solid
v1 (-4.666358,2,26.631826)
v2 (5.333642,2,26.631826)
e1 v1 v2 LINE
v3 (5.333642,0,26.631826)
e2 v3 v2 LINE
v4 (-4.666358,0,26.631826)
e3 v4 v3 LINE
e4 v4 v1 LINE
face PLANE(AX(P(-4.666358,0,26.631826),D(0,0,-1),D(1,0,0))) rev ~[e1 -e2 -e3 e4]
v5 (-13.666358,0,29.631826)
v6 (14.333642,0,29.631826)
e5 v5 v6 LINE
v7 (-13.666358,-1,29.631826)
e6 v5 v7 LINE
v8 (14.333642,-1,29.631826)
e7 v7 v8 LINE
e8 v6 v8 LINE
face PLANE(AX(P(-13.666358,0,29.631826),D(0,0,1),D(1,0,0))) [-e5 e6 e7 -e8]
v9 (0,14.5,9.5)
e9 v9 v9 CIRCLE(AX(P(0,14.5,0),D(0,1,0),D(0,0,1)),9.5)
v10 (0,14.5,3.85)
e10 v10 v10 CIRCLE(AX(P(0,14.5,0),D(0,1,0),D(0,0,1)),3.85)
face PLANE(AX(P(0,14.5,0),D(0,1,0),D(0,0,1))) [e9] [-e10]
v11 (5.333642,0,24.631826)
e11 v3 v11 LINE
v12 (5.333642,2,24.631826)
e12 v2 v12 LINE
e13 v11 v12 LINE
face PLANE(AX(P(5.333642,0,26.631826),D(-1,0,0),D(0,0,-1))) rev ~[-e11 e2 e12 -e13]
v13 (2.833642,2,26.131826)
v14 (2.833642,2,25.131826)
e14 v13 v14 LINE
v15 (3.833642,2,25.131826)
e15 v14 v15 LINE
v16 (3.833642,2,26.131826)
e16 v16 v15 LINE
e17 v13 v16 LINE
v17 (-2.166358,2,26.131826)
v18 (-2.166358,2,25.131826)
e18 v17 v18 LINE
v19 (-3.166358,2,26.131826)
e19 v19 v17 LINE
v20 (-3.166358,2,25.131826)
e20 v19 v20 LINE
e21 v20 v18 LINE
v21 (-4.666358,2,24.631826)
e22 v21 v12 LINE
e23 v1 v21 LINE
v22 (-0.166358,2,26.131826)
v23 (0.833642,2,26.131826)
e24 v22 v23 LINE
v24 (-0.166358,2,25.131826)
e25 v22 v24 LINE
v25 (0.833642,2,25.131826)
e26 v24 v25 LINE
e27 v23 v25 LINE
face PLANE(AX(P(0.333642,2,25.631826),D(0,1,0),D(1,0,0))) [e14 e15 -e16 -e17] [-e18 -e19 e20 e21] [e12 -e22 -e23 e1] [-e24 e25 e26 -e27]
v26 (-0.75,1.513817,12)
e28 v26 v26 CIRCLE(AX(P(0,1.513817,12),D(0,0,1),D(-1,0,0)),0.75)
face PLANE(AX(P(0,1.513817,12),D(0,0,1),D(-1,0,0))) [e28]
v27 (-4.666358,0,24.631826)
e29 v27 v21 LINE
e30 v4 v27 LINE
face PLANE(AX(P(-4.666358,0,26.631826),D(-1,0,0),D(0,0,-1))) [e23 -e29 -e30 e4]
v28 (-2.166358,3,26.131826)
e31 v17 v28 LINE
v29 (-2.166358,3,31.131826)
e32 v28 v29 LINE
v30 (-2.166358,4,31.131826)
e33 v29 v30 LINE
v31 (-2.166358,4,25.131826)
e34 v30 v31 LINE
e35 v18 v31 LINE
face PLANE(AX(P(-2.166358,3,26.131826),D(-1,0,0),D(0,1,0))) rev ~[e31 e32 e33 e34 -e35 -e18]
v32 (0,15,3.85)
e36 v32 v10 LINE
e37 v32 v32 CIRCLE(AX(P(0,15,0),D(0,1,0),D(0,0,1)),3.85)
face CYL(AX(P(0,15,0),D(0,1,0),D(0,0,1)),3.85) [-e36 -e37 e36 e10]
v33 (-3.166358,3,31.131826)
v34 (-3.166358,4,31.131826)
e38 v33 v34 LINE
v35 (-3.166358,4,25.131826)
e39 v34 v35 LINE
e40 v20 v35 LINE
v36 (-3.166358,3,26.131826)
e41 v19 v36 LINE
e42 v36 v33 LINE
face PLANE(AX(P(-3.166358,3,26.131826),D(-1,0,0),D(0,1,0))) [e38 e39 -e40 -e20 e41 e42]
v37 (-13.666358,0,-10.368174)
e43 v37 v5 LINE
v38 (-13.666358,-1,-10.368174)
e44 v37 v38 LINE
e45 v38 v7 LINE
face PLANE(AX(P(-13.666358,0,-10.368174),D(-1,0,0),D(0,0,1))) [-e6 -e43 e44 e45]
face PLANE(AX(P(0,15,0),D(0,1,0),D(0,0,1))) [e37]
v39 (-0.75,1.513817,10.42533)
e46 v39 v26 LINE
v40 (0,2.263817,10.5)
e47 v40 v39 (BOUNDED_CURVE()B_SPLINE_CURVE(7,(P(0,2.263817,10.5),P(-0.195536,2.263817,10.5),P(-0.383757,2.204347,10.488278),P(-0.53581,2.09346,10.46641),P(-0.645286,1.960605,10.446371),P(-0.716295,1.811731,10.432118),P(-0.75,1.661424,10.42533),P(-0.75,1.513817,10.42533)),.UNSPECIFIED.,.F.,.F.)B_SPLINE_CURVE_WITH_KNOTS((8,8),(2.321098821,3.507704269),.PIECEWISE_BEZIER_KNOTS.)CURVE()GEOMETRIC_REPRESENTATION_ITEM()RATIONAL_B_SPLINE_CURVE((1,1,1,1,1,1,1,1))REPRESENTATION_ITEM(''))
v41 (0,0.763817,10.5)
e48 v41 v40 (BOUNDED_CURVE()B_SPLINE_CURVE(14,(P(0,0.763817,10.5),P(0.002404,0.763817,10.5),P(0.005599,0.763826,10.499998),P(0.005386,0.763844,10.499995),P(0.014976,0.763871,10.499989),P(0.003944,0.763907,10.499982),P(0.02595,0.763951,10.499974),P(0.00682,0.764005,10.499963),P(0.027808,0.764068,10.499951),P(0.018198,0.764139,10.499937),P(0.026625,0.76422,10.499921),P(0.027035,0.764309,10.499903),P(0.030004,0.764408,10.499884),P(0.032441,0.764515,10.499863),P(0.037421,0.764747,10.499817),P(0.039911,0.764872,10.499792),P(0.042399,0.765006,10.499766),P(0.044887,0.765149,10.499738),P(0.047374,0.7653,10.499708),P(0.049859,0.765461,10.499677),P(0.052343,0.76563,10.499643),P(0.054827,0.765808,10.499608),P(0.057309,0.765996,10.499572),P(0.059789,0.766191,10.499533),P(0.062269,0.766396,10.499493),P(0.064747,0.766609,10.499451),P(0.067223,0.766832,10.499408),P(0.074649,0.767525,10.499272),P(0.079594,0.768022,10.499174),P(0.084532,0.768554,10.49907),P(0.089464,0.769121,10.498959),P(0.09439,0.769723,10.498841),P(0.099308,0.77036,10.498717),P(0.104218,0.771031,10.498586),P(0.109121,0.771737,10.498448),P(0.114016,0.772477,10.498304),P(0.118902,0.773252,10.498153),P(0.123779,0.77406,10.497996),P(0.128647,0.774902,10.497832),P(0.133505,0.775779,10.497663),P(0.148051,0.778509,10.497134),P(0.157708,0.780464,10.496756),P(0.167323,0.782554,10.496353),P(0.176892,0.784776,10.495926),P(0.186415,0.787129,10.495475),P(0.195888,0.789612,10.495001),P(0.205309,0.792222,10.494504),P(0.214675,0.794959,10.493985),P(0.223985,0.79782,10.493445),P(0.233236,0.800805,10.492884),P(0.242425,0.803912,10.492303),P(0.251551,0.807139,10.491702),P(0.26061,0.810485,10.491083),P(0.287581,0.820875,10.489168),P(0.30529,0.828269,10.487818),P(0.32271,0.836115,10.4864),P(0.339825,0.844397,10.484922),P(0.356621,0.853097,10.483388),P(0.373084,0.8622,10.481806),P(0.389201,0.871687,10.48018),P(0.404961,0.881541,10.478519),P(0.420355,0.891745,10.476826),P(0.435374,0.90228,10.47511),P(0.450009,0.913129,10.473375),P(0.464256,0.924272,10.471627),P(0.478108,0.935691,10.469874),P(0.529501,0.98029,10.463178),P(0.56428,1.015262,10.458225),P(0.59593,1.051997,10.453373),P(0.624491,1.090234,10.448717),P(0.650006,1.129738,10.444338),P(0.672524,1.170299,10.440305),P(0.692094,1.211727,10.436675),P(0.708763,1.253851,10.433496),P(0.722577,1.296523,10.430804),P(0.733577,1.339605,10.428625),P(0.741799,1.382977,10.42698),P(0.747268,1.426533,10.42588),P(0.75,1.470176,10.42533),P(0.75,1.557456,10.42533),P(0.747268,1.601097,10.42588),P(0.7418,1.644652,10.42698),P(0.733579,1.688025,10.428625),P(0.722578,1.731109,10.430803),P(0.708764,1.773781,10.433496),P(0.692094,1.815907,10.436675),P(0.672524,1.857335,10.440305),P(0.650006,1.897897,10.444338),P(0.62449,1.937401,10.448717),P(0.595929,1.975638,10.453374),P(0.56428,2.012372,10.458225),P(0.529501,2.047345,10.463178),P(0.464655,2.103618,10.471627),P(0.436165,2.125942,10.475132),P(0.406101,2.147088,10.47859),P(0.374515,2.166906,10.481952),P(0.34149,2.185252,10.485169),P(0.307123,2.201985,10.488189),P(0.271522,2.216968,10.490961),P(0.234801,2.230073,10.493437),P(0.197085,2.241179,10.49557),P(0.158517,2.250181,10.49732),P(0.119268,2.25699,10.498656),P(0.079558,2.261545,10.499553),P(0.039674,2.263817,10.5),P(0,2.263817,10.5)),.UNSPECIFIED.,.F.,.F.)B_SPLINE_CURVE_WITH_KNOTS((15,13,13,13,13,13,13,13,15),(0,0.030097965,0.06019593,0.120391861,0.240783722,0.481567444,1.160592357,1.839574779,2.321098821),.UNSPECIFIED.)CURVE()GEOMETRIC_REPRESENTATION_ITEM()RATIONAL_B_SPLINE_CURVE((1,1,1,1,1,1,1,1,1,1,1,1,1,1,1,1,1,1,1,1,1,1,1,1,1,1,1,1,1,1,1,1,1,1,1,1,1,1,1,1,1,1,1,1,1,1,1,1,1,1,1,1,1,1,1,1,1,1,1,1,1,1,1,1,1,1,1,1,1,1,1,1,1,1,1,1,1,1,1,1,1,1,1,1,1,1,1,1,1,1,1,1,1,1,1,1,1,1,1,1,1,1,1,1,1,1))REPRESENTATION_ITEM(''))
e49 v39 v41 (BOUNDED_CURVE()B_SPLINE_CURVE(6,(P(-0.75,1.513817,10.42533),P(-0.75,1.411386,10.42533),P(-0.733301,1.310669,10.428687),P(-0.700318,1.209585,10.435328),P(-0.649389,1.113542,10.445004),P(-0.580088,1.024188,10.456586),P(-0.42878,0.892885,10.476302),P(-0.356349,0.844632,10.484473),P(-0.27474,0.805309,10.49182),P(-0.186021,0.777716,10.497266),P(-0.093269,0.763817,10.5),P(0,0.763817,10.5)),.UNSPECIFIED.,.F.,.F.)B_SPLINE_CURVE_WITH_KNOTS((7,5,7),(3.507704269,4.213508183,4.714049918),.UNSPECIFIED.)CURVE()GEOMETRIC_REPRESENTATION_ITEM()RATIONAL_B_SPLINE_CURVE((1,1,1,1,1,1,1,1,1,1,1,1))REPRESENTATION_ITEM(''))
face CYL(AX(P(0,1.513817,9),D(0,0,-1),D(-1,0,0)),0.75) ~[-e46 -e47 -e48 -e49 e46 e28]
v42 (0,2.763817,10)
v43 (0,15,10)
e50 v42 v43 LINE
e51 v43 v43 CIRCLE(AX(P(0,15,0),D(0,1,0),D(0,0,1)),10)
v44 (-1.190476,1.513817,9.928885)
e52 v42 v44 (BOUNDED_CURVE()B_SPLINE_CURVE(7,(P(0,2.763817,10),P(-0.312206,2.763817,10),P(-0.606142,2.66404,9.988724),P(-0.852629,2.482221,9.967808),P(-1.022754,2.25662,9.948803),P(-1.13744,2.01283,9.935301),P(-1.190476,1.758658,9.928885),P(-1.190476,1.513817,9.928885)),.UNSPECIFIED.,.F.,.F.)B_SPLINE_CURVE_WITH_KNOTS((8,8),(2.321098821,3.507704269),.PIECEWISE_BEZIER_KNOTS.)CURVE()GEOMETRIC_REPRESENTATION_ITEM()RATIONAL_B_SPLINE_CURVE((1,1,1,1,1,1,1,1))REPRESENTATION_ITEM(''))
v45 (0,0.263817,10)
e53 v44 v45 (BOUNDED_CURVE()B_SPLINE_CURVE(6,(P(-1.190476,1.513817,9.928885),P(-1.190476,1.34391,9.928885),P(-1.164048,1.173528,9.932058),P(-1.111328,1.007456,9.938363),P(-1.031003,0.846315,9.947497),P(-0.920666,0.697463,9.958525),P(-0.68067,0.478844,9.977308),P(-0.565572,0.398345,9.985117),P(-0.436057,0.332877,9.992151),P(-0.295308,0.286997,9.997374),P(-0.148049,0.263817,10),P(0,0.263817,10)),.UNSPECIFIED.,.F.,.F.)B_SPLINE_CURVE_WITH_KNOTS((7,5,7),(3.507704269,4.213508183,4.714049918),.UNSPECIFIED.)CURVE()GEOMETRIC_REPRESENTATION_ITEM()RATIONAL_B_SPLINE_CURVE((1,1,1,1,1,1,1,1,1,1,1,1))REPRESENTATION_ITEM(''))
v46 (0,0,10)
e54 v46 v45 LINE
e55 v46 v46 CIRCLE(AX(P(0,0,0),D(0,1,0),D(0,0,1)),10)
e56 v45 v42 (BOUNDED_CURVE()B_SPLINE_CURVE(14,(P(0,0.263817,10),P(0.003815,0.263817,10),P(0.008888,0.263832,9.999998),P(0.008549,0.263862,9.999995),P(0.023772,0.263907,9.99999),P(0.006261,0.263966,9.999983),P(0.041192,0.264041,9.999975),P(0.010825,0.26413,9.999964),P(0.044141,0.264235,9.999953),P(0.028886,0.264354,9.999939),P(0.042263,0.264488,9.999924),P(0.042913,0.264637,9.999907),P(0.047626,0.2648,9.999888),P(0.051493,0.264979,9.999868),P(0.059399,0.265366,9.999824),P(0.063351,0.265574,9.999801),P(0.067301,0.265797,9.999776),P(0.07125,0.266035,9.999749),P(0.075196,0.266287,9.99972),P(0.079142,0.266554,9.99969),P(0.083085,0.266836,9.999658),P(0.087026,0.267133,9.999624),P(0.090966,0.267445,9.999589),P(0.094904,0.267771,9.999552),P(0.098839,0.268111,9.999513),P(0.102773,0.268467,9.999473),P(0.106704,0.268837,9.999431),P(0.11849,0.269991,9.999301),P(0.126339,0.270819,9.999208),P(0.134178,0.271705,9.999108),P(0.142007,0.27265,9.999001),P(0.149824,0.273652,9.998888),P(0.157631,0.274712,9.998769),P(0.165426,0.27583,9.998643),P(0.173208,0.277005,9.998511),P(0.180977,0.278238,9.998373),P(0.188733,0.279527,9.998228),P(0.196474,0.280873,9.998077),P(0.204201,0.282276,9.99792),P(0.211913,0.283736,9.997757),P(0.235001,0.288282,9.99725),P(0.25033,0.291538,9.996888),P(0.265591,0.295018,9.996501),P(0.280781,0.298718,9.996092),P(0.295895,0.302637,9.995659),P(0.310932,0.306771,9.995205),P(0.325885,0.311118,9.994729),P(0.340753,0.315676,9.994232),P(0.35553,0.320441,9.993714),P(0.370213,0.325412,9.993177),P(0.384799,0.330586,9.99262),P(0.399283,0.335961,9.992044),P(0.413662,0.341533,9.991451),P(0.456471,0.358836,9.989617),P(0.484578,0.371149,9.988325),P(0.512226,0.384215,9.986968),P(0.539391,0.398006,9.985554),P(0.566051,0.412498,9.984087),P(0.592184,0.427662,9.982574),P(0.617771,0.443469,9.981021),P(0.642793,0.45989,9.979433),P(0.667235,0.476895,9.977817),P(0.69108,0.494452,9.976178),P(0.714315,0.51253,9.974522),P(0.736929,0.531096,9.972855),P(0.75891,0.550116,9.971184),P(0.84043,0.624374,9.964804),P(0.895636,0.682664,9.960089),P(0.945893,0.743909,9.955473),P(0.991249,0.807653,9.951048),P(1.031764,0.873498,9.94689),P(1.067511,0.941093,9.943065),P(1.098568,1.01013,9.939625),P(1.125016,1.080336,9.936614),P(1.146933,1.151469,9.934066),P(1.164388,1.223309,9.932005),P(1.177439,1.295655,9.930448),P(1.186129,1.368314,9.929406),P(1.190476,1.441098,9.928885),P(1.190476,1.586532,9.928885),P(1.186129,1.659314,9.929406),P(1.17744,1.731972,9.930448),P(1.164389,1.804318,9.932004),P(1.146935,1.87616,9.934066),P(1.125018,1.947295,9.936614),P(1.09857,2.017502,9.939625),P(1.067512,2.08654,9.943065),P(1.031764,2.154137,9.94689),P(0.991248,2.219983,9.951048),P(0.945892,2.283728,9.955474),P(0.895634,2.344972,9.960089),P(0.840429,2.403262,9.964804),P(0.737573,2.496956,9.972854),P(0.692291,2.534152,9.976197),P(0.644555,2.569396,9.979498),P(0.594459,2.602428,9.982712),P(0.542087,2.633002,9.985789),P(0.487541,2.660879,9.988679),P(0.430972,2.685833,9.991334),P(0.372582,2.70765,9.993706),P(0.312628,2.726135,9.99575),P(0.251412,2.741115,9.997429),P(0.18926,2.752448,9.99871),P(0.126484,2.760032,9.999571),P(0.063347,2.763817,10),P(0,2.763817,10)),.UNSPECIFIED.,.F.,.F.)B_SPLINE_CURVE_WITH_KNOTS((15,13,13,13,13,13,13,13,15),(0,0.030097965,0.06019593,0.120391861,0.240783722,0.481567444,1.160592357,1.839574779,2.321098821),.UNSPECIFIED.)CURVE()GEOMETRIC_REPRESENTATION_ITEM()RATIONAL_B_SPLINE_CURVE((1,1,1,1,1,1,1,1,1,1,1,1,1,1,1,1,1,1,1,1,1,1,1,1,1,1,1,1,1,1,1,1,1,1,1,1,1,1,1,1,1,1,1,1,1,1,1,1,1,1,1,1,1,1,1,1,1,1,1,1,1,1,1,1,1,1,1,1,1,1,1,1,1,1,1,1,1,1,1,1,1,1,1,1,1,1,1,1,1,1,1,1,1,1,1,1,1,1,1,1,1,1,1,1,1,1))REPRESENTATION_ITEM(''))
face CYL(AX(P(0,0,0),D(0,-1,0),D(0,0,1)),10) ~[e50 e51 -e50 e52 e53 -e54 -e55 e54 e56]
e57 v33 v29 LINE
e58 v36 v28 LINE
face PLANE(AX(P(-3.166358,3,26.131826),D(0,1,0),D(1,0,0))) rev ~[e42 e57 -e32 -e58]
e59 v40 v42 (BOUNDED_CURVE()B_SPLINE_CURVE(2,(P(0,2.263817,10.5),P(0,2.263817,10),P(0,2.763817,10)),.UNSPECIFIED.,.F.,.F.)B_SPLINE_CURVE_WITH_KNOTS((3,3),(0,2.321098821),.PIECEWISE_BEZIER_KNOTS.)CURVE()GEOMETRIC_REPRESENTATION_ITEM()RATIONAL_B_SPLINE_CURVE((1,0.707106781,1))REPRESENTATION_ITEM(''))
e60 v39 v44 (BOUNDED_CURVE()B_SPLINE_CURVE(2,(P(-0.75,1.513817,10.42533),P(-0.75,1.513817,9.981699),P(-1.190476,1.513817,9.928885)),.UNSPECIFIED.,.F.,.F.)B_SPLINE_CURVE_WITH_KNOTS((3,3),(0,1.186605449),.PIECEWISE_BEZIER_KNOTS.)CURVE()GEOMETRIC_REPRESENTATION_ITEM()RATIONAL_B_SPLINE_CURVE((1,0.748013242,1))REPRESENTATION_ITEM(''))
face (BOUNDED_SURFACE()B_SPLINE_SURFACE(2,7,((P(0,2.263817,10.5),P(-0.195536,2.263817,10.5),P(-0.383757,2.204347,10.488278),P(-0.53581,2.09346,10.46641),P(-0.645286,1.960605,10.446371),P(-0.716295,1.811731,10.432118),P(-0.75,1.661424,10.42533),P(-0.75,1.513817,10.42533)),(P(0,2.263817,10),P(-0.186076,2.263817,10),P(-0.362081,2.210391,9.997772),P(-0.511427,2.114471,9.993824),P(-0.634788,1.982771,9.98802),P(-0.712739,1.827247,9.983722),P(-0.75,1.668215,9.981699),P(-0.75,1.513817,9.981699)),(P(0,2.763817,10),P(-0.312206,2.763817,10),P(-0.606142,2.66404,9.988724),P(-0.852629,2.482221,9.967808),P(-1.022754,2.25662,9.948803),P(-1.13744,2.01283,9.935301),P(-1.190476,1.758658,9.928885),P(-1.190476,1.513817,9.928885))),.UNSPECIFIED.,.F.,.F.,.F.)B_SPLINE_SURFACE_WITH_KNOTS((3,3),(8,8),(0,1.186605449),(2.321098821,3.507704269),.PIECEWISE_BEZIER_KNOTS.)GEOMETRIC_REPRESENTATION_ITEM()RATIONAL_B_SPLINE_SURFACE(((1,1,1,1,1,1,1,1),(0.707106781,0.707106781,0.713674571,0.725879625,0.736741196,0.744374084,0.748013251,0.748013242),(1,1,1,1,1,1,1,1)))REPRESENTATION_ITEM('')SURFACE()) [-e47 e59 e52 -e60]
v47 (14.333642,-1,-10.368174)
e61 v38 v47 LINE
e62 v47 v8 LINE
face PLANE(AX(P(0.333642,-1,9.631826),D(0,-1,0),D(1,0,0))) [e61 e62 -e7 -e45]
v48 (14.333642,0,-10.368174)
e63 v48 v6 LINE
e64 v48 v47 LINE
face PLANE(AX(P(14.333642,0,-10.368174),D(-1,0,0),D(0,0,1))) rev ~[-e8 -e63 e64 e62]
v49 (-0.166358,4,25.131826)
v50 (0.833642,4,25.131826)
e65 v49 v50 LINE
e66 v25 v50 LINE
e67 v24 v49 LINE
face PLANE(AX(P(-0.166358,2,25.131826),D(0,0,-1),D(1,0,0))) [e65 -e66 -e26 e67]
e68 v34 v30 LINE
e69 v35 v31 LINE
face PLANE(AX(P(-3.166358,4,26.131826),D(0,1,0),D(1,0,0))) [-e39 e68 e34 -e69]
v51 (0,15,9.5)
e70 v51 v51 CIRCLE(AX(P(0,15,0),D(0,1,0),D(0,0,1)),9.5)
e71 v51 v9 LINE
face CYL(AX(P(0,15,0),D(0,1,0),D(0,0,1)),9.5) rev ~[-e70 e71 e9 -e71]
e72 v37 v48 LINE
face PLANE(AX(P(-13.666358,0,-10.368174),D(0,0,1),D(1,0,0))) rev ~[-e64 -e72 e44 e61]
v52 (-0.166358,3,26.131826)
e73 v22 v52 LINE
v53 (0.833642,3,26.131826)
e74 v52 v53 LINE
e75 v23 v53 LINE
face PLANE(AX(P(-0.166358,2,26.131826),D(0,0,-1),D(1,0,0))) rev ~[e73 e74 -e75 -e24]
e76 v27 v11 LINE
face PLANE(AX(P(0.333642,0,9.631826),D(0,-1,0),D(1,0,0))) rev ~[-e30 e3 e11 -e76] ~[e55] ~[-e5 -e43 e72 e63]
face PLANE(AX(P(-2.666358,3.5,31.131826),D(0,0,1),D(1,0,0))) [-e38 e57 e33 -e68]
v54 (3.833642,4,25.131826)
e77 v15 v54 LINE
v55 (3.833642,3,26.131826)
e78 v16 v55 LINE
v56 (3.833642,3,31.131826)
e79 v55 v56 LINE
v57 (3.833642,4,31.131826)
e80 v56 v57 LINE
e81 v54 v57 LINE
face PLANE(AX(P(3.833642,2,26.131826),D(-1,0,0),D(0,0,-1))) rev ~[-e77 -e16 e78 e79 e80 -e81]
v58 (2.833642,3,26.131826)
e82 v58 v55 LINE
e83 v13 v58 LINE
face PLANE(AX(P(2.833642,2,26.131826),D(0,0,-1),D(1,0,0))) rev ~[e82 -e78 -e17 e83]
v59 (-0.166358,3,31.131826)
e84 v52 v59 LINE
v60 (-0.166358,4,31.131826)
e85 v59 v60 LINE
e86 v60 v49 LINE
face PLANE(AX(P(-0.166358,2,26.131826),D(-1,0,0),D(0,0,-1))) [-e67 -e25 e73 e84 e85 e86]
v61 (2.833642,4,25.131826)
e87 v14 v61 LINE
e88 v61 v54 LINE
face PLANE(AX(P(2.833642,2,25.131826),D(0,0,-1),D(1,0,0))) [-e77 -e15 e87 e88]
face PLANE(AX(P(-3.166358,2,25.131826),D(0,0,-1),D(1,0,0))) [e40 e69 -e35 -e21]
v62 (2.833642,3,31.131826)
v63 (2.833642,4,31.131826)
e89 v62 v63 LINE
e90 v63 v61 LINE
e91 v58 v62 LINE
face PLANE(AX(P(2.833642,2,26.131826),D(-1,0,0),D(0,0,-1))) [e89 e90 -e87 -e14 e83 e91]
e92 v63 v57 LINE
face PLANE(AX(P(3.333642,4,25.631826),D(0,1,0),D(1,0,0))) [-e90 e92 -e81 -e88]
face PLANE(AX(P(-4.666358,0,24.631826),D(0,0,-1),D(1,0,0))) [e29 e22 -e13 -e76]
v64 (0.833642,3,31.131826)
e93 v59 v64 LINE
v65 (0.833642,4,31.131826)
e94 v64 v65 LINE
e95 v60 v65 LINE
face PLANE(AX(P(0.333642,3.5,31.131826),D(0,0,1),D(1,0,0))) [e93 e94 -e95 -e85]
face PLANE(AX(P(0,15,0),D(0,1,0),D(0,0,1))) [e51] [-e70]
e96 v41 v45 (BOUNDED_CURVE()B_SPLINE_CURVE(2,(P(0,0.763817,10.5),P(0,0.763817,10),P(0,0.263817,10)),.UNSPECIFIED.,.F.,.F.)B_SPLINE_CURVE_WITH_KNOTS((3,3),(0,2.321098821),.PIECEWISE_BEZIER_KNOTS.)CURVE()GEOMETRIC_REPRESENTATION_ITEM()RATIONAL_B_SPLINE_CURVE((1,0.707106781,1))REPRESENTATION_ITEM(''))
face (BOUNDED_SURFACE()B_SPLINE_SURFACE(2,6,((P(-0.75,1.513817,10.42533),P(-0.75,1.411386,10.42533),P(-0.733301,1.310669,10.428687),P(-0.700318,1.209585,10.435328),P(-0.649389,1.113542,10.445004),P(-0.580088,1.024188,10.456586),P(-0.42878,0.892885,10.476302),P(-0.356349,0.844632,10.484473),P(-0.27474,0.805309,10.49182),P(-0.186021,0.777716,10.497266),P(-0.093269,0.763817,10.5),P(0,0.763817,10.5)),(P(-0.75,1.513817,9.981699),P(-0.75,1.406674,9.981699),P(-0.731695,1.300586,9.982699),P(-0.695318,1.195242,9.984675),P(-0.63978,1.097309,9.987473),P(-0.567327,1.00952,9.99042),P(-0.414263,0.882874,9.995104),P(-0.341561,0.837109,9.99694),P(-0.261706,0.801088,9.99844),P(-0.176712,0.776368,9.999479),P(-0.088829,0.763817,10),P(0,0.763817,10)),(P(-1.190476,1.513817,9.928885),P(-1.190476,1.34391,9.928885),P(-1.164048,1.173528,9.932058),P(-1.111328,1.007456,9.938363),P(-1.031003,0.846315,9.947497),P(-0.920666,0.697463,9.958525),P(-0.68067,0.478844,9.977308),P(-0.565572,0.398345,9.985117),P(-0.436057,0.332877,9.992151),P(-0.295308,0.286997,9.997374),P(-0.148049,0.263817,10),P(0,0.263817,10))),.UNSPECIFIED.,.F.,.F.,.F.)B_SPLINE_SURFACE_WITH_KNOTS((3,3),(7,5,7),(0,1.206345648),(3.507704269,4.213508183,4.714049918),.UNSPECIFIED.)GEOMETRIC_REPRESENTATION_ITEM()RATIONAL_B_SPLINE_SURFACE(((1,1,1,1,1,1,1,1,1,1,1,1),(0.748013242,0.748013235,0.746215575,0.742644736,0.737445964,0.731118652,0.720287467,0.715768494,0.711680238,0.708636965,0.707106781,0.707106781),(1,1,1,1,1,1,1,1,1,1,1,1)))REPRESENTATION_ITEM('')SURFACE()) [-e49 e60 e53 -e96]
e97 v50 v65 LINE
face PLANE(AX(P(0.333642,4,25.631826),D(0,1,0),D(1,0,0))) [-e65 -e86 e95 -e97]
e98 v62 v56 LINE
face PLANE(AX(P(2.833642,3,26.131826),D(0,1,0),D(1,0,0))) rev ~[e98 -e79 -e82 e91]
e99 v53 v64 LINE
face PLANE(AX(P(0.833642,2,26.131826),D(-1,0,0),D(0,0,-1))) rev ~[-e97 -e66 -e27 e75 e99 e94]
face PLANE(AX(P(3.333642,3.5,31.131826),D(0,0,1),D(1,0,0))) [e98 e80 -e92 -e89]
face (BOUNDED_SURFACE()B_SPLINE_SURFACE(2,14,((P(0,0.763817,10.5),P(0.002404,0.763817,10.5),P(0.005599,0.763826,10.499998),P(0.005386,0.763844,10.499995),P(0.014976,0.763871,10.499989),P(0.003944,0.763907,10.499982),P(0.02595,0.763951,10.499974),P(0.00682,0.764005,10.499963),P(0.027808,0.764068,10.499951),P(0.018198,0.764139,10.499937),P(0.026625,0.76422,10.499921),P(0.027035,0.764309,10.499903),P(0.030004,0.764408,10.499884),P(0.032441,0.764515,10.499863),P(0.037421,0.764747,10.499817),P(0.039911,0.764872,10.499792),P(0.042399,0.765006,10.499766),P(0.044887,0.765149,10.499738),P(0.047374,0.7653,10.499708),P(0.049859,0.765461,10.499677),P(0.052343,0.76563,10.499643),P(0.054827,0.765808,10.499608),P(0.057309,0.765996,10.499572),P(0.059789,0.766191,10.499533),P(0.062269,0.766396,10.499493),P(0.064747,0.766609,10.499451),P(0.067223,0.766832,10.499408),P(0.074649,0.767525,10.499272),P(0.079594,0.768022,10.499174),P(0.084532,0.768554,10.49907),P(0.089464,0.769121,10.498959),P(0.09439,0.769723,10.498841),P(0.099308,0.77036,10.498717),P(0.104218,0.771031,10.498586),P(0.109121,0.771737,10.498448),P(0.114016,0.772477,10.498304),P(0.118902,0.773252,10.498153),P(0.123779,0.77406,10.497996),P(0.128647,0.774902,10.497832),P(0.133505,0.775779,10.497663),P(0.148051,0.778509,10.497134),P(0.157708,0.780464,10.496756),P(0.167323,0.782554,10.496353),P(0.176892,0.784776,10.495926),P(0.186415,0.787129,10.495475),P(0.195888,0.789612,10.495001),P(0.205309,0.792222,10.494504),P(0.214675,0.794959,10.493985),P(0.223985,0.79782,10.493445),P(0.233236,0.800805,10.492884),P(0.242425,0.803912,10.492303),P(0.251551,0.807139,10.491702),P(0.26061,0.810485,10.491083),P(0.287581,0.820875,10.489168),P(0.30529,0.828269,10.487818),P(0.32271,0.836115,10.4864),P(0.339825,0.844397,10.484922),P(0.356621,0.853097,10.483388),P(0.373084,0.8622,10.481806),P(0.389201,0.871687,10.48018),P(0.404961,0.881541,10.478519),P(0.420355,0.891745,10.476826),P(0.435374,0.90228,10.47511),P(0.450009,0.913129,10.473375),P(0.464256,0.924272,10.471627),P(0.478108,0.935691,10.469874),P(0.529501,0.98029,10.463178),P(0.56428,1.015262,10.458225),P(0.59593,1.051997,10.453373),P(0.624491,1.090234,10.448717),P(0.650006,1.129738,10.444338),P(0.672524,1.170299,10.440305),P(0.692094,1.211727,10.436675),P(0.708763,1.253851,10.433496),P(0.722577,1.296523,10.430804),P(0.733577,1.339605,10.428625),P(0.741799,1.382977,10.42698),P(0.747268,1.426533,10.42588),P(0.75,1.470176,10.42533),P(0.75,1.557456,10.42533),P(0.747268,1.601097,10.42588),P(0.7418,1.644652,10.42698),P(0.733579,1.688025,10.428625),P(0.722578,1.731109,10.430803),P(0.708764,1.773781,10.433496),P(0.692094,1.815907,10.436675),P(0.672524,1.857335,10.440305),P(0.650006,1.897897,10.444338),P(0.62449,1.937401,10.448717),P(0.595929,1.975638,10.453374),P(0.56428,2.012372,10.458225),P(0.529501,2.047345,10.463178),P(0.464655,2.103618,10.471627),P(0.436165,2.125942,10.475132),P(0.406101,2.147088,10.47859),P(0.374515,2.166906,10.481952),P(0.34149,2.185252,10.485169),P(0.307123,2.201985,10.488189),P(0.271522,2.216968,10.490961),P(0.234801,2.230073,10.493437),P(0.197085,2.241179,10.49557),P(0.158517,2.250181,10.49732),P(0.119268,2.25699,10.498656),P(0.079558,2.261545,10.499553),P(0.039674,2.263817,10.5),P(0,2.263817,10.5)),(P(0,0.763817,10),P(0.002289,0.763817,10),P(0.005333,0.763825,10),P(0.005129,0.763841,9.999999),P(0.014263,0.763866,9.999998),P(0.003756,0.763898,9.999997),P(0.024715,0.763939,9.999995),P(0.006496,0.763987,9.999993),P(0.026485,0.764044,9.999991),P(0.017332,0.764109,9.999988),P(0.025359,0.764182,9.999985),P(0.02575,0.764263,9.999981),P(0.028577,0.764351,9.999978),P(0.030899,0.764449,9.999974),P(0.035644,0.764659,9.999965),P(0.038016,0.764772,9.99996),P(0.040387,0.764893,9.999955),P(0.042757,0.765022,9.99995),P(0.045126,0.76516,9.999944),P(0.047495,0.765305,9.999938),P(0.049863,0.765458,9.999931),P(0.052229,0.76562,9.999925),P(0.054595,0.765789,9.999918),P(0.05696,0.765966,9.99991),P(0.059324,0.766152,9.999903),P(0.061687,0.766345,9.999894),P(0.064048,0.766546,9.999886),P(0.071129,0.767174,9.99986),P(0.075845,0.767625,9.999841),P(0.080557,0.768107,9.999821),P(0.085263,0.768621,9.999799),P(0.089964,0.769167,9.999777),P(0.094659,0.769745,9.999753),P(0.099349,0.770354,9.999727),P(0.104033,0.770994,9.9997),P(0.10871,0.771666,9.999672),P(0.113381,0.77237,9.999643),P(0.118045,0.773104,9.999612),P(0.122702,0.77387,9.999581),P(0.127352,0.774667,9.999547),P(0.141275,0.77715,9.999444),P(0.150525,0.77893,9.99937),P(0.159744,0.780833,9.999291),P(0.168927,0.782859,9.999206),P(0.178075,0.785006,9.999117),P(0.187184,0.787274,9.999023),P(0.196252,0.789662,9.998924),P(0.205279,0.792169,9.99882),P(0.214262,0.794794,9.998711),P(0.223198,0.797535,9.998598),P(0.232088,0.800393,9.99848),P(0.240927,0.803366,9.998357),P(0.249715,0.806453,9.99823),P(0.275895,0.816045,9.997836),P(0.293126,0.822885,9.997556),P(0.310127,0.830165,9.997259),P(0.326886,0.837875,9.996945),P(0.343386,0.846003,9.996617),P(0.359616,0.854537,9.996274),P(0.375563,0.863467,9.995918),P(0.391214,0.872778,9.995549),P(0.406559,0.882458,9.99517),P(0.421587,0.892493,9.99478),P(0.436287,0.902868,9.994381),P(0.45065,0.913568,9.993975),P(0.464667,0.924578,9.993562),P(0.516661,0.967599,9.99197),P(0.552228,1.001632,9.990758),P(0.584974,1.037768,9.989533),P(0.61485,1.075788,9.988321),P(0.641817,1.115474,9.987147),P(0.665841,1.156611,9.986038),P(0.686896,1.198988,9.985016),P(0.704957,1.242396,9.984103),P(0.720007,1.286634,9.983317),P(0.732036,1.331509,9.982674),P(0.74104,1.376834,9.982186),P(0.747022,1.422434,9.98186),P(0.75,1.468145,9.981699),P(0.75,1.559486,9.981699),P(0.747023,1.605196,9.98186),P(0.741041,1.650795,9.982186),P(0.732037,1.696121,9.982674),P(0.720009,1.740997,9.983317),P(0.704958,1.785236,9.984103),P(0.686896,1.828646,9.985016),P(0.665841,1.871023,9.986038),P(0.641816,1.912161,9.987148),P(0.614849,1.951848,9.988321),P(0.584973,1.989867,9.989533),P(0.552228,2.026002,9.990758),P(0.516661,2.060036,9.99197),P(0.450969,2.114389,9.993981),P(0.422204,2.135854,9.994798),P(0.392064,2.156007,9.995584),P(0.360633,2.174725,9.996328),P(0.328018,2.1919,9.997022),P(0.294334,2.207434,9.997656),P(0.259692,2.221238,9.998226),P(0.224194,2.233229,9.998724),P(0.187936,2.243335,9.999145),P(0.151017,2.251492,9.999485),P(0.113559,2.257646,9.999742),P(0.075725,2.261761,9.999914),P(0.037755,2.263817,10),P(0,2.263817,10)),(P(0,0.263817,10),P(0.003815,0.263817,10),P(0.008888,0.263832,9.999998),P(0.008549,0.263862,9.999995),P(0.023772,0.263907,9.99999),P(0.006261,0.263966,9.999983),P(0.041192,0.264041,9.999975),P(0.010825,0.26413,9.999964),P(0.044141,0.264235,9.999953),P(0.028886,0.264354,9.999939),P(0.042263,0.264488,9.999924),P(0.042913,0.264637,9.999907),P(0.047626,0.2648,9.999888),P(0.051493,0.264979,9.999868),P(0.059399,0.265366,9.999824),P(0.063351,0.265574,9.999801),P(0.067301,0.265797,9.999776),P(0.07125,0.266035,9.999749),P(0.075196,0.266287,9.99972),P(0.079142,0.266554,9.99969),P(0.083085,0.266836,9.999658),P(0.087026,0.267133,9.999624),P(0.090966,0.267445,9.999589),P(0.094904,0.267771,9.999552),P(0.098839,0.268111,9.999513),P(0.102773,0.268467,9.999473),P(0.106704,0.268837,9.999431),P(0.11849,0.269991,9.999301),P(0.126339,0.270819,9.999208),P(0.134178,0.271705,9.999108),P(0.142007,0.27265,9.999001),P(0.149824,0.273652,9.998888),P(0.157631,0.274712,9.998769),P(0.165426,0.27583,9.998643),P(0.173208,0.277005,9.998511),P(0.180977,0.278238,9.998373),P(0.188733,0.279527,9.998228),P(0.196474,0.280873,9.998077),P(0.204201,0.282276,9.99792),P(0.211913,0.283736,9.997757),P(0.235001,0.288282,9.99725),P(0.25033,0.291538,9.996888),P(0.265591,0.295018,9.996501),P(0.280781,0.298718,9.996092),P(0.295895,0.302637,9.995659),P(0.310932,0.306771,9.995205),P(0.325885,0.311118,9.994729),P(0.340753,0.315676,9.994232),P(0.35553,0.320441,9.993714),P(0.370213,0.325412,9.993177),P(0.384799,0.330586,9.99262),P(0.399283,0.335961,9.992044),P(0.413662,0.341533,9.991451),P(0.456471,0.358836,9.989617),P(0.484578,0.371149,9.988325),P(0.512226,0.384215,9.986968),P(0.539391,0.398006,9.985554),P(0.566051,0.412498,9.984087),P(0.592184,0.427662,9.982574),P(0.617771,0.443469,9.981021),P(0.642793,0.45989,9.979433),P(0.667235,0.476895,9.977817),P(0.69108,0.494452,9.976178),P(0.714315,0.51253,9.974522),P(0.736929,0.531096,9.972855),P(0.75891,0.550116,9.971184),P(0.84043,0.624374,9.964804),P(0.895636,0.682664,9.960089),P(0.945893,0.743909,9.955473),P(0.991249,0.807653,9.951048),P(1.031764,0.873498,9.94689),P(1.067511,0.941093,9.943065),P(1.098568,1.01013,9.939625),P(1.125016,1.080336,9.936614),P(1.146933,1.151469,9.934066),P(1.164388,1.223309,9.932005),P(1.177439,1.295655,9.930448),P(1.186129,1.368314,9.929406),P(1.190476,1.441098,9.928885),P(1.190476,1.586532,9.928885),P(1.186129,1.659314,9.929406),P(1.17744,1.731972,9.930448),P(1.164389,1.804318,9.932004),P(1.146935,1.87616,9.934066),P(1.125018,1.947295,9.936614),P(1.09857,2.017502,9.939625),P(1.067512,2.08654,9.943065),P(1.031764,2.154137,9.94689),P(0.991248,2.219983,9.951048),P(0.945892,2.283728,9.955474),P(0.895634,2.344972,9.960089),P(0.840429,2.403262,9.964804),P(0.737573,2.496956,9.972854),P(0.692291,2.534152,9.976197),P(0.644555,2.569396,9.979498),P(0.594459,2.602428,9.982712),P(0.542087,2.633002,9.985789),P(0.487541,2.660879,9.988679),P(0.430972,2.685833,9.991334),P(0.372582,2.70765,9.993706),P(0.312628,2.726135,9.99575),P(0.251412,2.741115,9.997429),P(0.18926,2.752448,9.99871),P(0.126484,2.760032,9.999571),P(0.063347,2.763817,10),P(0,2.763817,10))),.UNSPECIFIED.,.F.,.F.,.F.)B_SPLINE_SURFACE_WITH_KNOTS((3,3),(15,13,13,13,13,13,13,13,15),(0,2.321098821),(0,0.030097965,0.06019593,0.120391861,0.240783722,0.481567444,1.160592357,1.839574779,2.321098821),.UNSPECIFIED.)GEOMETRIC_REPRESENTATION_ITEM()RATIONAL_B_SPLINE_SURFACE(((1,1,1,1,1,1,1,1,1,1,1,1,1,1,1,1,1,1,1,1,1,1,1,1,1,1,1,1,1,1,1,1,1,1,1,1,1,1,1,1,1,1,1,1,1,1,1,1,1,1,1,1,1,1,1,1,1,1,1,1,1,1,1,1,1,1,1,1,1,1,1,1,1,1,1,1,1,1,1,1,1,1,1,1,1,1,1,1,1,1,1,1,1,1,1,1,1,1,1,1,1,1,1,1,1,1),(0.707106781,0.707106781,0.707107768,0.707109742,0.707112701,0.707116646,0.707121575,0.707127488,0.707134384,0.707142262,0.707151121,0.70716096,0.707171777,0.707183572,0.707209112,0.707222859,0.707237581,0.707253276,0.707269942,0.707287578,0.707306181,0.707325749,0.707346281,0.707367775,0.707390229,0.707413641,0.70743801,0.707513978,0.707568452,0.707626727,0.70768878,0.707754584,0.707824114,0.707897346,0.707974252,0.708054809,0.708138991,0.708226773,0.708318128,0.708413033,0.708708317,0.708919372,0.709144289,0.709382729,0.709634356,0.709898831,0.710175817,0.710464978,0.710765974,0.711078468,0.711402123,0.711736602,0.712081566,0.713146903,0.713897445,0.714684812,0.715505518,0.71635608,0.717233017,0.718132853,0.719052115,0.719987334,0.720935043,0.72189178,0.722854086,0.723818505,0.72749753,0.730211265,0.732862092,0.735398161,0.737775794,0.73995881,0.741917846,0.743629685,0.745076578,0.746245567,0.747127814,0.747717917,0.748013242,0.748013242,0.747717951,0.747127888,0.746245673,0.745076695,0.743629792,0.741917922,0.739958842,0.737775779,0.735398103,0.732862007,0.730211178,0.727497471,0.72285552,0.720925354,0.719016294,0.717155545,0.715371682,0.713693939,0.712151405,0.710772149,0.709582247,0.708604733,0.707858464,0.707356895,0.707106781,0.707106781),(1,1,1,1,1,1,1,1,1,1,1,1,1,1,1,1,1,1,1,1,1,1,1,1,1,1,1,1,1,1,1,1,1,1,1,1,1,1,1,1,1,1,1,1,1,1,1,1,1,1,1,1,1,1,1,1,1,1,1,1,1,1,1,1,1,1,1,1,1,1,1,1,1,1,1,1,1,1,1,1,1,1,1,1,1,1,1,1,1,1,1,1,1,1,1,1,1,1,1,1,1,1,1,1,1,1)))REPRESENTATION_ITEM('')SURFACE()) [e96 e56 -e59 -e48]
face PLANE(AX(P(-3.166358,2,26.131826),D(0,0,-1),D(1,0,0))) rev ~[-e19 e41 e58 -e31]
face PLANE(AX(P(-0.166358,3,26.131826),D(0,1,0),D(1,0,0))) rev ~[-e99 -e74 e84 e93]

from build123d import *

# Parameters (mm, degrees)
ESQUISSE1_R             = 10
BOSS_EXTRU_1_DEPTH      = 15
ESQUISSE2_R             = 9.5
ESQUISSE2_R_2           = 3.85
ENL_V_MAT_EXTRU_1_DEPTH = 0.5
ESQUISSE3_R             = 0.75
BOSS_EXTRU_2_DEPTH      = 3
CONG_1_R                = 0.5
ESQUISSE4_W             = 28
ESQUISSE4_H             = 40
BOSS_EXTRU_3_DEPTH      = 1
ESQUISSE5_W             = 10
ESQUISSE5_H             = 2
BOSS_EXTRU_4_DEPTH      = 2
ESQUISSE6_W             = 1
ESQUISSE6_H             = 1
BOSS_EXTRU_5_DEPTH      = 2
ESQUISSE8_W             = 1
ESQUISSE8_H             = 1
BOSS_EXTRU_6_DEPTH      = 5


with BuildPart() as part:
    # Esquisse1 → Boss.-Extru.1 (new body)
    with BuildSketch(Plane(origin=(0, 0, 0), x_dir=(1, 0, 0), z_dir=(0, 1, 0))):
        with Locations(Location((0, 0, 0), (0, 0, 270))):
            Circle(ESQUISSE1_R)
    extrude(amount=BOSS_EXTRU_1_DEPTH)

    # Esquisse2 → Enlèv. mat.-Extru.1 (cut)
    with BuildSketch(Plane(origin=(0, 15, 0), x_dir=(1, 0, 0), z_dir=(0, 1, 0))):
        with Locations(Location((0, 0, 0), (0, 0, 270))):
            Circle(ESQUISSE2_R)
        with Locations(Location((0, 0, 0), (0, 0, 270))):
            Circle(ESQUISSE2_R_2, mode=Mode.SUBTRACT)
    extrude(amount=-ENL_V_MAT_EXTRU_1_DEPTH, mode=Mode.SUBTRACT)

    # Esquisse3 → Boss.-Extru.2 (add)
    with BuildSketch(Plane.XY.offset(9)):
        with Locations(Location((0, 1.513817118, 0), (0, 0, 180))):
            Circle(ESQUISSE3_R)
    extrude(amount=BOSS_EXTRU_2_DEPTH)

    # Congé1
    cong_1_edges = [part.edges().sort_by_distance(p)[0] for p in [
        (0.75, 1.513817118, 9.971835338),
    ]]
    fillet(cong_1_edges, radius=CONG_1_R)

    # Esquisse4 → Boss.-Extru.3 (add)
    with BuildSketch(Plane.XZ):
        with Locations((0.33364204, 9.631825749)):
            Rectangle(ESQUISSE4_W, ESQUISSE4_H)
    extrude(amount=BOSS_EXTRU_3_DEPTH)

    # Esquisse5 → Boss.-Extru.4 (add)
    with BuildSketch(Plane(origin=(0, 0, 0), x_dir=(1, 0, 0), z_dir=(0, 1, 0))):
        with Locations((0.33364204, -25.631825749)):
            Rectangle(ESQUISSE5_W, ESQUISSE5_H)
    extrude(amount=BOSS_EXTRU_4_DEPTH)

    # Esquisse6 → Boss.-Extru.5 (add)
    with BuildSketch(Plane(origin=(0, 2, 0), x_dir=(1, 0, 0), z_dir=(0, 1, 0))):
        with Locations((-2.66635796, -25.631825749)):
            Rectangle(ESQUISSE6_W, ESQUISSE6_H)
        with Locations((0.33364204, -25.631825749)):
            Rectangle(ESQUISSE6_W, ESQUISSE6_H)
        with Locations((3.33364204, -25.631825749)):
            Rectangle(ESQUISSE6_W, ESQUISSE6_H)
    extrude(amount=BOSS_EXTRU_5_DEPTH)

    # Esquisse8 → Boss.-Extru.6 (add)
    with BuildSketch(Plane.XY.offset(26.131825749)):
        with Locations((-2.66635796, 3.5)):
            Rectangle(ESQUISSE8_W, ESQUISSE8_H)
        with Locations((0.33364204, 3.5)):
            Rectangle(ESQUISSE8_W, ESQUISSE8_H)
        with Locations((3.33364204, 3.5)):
            Rectangle(ESQUISSE8_W, ESQUISSE8_H)
    extrude(amount=BOSS_EXTRU_6_DEPTH)


solid = part.part
